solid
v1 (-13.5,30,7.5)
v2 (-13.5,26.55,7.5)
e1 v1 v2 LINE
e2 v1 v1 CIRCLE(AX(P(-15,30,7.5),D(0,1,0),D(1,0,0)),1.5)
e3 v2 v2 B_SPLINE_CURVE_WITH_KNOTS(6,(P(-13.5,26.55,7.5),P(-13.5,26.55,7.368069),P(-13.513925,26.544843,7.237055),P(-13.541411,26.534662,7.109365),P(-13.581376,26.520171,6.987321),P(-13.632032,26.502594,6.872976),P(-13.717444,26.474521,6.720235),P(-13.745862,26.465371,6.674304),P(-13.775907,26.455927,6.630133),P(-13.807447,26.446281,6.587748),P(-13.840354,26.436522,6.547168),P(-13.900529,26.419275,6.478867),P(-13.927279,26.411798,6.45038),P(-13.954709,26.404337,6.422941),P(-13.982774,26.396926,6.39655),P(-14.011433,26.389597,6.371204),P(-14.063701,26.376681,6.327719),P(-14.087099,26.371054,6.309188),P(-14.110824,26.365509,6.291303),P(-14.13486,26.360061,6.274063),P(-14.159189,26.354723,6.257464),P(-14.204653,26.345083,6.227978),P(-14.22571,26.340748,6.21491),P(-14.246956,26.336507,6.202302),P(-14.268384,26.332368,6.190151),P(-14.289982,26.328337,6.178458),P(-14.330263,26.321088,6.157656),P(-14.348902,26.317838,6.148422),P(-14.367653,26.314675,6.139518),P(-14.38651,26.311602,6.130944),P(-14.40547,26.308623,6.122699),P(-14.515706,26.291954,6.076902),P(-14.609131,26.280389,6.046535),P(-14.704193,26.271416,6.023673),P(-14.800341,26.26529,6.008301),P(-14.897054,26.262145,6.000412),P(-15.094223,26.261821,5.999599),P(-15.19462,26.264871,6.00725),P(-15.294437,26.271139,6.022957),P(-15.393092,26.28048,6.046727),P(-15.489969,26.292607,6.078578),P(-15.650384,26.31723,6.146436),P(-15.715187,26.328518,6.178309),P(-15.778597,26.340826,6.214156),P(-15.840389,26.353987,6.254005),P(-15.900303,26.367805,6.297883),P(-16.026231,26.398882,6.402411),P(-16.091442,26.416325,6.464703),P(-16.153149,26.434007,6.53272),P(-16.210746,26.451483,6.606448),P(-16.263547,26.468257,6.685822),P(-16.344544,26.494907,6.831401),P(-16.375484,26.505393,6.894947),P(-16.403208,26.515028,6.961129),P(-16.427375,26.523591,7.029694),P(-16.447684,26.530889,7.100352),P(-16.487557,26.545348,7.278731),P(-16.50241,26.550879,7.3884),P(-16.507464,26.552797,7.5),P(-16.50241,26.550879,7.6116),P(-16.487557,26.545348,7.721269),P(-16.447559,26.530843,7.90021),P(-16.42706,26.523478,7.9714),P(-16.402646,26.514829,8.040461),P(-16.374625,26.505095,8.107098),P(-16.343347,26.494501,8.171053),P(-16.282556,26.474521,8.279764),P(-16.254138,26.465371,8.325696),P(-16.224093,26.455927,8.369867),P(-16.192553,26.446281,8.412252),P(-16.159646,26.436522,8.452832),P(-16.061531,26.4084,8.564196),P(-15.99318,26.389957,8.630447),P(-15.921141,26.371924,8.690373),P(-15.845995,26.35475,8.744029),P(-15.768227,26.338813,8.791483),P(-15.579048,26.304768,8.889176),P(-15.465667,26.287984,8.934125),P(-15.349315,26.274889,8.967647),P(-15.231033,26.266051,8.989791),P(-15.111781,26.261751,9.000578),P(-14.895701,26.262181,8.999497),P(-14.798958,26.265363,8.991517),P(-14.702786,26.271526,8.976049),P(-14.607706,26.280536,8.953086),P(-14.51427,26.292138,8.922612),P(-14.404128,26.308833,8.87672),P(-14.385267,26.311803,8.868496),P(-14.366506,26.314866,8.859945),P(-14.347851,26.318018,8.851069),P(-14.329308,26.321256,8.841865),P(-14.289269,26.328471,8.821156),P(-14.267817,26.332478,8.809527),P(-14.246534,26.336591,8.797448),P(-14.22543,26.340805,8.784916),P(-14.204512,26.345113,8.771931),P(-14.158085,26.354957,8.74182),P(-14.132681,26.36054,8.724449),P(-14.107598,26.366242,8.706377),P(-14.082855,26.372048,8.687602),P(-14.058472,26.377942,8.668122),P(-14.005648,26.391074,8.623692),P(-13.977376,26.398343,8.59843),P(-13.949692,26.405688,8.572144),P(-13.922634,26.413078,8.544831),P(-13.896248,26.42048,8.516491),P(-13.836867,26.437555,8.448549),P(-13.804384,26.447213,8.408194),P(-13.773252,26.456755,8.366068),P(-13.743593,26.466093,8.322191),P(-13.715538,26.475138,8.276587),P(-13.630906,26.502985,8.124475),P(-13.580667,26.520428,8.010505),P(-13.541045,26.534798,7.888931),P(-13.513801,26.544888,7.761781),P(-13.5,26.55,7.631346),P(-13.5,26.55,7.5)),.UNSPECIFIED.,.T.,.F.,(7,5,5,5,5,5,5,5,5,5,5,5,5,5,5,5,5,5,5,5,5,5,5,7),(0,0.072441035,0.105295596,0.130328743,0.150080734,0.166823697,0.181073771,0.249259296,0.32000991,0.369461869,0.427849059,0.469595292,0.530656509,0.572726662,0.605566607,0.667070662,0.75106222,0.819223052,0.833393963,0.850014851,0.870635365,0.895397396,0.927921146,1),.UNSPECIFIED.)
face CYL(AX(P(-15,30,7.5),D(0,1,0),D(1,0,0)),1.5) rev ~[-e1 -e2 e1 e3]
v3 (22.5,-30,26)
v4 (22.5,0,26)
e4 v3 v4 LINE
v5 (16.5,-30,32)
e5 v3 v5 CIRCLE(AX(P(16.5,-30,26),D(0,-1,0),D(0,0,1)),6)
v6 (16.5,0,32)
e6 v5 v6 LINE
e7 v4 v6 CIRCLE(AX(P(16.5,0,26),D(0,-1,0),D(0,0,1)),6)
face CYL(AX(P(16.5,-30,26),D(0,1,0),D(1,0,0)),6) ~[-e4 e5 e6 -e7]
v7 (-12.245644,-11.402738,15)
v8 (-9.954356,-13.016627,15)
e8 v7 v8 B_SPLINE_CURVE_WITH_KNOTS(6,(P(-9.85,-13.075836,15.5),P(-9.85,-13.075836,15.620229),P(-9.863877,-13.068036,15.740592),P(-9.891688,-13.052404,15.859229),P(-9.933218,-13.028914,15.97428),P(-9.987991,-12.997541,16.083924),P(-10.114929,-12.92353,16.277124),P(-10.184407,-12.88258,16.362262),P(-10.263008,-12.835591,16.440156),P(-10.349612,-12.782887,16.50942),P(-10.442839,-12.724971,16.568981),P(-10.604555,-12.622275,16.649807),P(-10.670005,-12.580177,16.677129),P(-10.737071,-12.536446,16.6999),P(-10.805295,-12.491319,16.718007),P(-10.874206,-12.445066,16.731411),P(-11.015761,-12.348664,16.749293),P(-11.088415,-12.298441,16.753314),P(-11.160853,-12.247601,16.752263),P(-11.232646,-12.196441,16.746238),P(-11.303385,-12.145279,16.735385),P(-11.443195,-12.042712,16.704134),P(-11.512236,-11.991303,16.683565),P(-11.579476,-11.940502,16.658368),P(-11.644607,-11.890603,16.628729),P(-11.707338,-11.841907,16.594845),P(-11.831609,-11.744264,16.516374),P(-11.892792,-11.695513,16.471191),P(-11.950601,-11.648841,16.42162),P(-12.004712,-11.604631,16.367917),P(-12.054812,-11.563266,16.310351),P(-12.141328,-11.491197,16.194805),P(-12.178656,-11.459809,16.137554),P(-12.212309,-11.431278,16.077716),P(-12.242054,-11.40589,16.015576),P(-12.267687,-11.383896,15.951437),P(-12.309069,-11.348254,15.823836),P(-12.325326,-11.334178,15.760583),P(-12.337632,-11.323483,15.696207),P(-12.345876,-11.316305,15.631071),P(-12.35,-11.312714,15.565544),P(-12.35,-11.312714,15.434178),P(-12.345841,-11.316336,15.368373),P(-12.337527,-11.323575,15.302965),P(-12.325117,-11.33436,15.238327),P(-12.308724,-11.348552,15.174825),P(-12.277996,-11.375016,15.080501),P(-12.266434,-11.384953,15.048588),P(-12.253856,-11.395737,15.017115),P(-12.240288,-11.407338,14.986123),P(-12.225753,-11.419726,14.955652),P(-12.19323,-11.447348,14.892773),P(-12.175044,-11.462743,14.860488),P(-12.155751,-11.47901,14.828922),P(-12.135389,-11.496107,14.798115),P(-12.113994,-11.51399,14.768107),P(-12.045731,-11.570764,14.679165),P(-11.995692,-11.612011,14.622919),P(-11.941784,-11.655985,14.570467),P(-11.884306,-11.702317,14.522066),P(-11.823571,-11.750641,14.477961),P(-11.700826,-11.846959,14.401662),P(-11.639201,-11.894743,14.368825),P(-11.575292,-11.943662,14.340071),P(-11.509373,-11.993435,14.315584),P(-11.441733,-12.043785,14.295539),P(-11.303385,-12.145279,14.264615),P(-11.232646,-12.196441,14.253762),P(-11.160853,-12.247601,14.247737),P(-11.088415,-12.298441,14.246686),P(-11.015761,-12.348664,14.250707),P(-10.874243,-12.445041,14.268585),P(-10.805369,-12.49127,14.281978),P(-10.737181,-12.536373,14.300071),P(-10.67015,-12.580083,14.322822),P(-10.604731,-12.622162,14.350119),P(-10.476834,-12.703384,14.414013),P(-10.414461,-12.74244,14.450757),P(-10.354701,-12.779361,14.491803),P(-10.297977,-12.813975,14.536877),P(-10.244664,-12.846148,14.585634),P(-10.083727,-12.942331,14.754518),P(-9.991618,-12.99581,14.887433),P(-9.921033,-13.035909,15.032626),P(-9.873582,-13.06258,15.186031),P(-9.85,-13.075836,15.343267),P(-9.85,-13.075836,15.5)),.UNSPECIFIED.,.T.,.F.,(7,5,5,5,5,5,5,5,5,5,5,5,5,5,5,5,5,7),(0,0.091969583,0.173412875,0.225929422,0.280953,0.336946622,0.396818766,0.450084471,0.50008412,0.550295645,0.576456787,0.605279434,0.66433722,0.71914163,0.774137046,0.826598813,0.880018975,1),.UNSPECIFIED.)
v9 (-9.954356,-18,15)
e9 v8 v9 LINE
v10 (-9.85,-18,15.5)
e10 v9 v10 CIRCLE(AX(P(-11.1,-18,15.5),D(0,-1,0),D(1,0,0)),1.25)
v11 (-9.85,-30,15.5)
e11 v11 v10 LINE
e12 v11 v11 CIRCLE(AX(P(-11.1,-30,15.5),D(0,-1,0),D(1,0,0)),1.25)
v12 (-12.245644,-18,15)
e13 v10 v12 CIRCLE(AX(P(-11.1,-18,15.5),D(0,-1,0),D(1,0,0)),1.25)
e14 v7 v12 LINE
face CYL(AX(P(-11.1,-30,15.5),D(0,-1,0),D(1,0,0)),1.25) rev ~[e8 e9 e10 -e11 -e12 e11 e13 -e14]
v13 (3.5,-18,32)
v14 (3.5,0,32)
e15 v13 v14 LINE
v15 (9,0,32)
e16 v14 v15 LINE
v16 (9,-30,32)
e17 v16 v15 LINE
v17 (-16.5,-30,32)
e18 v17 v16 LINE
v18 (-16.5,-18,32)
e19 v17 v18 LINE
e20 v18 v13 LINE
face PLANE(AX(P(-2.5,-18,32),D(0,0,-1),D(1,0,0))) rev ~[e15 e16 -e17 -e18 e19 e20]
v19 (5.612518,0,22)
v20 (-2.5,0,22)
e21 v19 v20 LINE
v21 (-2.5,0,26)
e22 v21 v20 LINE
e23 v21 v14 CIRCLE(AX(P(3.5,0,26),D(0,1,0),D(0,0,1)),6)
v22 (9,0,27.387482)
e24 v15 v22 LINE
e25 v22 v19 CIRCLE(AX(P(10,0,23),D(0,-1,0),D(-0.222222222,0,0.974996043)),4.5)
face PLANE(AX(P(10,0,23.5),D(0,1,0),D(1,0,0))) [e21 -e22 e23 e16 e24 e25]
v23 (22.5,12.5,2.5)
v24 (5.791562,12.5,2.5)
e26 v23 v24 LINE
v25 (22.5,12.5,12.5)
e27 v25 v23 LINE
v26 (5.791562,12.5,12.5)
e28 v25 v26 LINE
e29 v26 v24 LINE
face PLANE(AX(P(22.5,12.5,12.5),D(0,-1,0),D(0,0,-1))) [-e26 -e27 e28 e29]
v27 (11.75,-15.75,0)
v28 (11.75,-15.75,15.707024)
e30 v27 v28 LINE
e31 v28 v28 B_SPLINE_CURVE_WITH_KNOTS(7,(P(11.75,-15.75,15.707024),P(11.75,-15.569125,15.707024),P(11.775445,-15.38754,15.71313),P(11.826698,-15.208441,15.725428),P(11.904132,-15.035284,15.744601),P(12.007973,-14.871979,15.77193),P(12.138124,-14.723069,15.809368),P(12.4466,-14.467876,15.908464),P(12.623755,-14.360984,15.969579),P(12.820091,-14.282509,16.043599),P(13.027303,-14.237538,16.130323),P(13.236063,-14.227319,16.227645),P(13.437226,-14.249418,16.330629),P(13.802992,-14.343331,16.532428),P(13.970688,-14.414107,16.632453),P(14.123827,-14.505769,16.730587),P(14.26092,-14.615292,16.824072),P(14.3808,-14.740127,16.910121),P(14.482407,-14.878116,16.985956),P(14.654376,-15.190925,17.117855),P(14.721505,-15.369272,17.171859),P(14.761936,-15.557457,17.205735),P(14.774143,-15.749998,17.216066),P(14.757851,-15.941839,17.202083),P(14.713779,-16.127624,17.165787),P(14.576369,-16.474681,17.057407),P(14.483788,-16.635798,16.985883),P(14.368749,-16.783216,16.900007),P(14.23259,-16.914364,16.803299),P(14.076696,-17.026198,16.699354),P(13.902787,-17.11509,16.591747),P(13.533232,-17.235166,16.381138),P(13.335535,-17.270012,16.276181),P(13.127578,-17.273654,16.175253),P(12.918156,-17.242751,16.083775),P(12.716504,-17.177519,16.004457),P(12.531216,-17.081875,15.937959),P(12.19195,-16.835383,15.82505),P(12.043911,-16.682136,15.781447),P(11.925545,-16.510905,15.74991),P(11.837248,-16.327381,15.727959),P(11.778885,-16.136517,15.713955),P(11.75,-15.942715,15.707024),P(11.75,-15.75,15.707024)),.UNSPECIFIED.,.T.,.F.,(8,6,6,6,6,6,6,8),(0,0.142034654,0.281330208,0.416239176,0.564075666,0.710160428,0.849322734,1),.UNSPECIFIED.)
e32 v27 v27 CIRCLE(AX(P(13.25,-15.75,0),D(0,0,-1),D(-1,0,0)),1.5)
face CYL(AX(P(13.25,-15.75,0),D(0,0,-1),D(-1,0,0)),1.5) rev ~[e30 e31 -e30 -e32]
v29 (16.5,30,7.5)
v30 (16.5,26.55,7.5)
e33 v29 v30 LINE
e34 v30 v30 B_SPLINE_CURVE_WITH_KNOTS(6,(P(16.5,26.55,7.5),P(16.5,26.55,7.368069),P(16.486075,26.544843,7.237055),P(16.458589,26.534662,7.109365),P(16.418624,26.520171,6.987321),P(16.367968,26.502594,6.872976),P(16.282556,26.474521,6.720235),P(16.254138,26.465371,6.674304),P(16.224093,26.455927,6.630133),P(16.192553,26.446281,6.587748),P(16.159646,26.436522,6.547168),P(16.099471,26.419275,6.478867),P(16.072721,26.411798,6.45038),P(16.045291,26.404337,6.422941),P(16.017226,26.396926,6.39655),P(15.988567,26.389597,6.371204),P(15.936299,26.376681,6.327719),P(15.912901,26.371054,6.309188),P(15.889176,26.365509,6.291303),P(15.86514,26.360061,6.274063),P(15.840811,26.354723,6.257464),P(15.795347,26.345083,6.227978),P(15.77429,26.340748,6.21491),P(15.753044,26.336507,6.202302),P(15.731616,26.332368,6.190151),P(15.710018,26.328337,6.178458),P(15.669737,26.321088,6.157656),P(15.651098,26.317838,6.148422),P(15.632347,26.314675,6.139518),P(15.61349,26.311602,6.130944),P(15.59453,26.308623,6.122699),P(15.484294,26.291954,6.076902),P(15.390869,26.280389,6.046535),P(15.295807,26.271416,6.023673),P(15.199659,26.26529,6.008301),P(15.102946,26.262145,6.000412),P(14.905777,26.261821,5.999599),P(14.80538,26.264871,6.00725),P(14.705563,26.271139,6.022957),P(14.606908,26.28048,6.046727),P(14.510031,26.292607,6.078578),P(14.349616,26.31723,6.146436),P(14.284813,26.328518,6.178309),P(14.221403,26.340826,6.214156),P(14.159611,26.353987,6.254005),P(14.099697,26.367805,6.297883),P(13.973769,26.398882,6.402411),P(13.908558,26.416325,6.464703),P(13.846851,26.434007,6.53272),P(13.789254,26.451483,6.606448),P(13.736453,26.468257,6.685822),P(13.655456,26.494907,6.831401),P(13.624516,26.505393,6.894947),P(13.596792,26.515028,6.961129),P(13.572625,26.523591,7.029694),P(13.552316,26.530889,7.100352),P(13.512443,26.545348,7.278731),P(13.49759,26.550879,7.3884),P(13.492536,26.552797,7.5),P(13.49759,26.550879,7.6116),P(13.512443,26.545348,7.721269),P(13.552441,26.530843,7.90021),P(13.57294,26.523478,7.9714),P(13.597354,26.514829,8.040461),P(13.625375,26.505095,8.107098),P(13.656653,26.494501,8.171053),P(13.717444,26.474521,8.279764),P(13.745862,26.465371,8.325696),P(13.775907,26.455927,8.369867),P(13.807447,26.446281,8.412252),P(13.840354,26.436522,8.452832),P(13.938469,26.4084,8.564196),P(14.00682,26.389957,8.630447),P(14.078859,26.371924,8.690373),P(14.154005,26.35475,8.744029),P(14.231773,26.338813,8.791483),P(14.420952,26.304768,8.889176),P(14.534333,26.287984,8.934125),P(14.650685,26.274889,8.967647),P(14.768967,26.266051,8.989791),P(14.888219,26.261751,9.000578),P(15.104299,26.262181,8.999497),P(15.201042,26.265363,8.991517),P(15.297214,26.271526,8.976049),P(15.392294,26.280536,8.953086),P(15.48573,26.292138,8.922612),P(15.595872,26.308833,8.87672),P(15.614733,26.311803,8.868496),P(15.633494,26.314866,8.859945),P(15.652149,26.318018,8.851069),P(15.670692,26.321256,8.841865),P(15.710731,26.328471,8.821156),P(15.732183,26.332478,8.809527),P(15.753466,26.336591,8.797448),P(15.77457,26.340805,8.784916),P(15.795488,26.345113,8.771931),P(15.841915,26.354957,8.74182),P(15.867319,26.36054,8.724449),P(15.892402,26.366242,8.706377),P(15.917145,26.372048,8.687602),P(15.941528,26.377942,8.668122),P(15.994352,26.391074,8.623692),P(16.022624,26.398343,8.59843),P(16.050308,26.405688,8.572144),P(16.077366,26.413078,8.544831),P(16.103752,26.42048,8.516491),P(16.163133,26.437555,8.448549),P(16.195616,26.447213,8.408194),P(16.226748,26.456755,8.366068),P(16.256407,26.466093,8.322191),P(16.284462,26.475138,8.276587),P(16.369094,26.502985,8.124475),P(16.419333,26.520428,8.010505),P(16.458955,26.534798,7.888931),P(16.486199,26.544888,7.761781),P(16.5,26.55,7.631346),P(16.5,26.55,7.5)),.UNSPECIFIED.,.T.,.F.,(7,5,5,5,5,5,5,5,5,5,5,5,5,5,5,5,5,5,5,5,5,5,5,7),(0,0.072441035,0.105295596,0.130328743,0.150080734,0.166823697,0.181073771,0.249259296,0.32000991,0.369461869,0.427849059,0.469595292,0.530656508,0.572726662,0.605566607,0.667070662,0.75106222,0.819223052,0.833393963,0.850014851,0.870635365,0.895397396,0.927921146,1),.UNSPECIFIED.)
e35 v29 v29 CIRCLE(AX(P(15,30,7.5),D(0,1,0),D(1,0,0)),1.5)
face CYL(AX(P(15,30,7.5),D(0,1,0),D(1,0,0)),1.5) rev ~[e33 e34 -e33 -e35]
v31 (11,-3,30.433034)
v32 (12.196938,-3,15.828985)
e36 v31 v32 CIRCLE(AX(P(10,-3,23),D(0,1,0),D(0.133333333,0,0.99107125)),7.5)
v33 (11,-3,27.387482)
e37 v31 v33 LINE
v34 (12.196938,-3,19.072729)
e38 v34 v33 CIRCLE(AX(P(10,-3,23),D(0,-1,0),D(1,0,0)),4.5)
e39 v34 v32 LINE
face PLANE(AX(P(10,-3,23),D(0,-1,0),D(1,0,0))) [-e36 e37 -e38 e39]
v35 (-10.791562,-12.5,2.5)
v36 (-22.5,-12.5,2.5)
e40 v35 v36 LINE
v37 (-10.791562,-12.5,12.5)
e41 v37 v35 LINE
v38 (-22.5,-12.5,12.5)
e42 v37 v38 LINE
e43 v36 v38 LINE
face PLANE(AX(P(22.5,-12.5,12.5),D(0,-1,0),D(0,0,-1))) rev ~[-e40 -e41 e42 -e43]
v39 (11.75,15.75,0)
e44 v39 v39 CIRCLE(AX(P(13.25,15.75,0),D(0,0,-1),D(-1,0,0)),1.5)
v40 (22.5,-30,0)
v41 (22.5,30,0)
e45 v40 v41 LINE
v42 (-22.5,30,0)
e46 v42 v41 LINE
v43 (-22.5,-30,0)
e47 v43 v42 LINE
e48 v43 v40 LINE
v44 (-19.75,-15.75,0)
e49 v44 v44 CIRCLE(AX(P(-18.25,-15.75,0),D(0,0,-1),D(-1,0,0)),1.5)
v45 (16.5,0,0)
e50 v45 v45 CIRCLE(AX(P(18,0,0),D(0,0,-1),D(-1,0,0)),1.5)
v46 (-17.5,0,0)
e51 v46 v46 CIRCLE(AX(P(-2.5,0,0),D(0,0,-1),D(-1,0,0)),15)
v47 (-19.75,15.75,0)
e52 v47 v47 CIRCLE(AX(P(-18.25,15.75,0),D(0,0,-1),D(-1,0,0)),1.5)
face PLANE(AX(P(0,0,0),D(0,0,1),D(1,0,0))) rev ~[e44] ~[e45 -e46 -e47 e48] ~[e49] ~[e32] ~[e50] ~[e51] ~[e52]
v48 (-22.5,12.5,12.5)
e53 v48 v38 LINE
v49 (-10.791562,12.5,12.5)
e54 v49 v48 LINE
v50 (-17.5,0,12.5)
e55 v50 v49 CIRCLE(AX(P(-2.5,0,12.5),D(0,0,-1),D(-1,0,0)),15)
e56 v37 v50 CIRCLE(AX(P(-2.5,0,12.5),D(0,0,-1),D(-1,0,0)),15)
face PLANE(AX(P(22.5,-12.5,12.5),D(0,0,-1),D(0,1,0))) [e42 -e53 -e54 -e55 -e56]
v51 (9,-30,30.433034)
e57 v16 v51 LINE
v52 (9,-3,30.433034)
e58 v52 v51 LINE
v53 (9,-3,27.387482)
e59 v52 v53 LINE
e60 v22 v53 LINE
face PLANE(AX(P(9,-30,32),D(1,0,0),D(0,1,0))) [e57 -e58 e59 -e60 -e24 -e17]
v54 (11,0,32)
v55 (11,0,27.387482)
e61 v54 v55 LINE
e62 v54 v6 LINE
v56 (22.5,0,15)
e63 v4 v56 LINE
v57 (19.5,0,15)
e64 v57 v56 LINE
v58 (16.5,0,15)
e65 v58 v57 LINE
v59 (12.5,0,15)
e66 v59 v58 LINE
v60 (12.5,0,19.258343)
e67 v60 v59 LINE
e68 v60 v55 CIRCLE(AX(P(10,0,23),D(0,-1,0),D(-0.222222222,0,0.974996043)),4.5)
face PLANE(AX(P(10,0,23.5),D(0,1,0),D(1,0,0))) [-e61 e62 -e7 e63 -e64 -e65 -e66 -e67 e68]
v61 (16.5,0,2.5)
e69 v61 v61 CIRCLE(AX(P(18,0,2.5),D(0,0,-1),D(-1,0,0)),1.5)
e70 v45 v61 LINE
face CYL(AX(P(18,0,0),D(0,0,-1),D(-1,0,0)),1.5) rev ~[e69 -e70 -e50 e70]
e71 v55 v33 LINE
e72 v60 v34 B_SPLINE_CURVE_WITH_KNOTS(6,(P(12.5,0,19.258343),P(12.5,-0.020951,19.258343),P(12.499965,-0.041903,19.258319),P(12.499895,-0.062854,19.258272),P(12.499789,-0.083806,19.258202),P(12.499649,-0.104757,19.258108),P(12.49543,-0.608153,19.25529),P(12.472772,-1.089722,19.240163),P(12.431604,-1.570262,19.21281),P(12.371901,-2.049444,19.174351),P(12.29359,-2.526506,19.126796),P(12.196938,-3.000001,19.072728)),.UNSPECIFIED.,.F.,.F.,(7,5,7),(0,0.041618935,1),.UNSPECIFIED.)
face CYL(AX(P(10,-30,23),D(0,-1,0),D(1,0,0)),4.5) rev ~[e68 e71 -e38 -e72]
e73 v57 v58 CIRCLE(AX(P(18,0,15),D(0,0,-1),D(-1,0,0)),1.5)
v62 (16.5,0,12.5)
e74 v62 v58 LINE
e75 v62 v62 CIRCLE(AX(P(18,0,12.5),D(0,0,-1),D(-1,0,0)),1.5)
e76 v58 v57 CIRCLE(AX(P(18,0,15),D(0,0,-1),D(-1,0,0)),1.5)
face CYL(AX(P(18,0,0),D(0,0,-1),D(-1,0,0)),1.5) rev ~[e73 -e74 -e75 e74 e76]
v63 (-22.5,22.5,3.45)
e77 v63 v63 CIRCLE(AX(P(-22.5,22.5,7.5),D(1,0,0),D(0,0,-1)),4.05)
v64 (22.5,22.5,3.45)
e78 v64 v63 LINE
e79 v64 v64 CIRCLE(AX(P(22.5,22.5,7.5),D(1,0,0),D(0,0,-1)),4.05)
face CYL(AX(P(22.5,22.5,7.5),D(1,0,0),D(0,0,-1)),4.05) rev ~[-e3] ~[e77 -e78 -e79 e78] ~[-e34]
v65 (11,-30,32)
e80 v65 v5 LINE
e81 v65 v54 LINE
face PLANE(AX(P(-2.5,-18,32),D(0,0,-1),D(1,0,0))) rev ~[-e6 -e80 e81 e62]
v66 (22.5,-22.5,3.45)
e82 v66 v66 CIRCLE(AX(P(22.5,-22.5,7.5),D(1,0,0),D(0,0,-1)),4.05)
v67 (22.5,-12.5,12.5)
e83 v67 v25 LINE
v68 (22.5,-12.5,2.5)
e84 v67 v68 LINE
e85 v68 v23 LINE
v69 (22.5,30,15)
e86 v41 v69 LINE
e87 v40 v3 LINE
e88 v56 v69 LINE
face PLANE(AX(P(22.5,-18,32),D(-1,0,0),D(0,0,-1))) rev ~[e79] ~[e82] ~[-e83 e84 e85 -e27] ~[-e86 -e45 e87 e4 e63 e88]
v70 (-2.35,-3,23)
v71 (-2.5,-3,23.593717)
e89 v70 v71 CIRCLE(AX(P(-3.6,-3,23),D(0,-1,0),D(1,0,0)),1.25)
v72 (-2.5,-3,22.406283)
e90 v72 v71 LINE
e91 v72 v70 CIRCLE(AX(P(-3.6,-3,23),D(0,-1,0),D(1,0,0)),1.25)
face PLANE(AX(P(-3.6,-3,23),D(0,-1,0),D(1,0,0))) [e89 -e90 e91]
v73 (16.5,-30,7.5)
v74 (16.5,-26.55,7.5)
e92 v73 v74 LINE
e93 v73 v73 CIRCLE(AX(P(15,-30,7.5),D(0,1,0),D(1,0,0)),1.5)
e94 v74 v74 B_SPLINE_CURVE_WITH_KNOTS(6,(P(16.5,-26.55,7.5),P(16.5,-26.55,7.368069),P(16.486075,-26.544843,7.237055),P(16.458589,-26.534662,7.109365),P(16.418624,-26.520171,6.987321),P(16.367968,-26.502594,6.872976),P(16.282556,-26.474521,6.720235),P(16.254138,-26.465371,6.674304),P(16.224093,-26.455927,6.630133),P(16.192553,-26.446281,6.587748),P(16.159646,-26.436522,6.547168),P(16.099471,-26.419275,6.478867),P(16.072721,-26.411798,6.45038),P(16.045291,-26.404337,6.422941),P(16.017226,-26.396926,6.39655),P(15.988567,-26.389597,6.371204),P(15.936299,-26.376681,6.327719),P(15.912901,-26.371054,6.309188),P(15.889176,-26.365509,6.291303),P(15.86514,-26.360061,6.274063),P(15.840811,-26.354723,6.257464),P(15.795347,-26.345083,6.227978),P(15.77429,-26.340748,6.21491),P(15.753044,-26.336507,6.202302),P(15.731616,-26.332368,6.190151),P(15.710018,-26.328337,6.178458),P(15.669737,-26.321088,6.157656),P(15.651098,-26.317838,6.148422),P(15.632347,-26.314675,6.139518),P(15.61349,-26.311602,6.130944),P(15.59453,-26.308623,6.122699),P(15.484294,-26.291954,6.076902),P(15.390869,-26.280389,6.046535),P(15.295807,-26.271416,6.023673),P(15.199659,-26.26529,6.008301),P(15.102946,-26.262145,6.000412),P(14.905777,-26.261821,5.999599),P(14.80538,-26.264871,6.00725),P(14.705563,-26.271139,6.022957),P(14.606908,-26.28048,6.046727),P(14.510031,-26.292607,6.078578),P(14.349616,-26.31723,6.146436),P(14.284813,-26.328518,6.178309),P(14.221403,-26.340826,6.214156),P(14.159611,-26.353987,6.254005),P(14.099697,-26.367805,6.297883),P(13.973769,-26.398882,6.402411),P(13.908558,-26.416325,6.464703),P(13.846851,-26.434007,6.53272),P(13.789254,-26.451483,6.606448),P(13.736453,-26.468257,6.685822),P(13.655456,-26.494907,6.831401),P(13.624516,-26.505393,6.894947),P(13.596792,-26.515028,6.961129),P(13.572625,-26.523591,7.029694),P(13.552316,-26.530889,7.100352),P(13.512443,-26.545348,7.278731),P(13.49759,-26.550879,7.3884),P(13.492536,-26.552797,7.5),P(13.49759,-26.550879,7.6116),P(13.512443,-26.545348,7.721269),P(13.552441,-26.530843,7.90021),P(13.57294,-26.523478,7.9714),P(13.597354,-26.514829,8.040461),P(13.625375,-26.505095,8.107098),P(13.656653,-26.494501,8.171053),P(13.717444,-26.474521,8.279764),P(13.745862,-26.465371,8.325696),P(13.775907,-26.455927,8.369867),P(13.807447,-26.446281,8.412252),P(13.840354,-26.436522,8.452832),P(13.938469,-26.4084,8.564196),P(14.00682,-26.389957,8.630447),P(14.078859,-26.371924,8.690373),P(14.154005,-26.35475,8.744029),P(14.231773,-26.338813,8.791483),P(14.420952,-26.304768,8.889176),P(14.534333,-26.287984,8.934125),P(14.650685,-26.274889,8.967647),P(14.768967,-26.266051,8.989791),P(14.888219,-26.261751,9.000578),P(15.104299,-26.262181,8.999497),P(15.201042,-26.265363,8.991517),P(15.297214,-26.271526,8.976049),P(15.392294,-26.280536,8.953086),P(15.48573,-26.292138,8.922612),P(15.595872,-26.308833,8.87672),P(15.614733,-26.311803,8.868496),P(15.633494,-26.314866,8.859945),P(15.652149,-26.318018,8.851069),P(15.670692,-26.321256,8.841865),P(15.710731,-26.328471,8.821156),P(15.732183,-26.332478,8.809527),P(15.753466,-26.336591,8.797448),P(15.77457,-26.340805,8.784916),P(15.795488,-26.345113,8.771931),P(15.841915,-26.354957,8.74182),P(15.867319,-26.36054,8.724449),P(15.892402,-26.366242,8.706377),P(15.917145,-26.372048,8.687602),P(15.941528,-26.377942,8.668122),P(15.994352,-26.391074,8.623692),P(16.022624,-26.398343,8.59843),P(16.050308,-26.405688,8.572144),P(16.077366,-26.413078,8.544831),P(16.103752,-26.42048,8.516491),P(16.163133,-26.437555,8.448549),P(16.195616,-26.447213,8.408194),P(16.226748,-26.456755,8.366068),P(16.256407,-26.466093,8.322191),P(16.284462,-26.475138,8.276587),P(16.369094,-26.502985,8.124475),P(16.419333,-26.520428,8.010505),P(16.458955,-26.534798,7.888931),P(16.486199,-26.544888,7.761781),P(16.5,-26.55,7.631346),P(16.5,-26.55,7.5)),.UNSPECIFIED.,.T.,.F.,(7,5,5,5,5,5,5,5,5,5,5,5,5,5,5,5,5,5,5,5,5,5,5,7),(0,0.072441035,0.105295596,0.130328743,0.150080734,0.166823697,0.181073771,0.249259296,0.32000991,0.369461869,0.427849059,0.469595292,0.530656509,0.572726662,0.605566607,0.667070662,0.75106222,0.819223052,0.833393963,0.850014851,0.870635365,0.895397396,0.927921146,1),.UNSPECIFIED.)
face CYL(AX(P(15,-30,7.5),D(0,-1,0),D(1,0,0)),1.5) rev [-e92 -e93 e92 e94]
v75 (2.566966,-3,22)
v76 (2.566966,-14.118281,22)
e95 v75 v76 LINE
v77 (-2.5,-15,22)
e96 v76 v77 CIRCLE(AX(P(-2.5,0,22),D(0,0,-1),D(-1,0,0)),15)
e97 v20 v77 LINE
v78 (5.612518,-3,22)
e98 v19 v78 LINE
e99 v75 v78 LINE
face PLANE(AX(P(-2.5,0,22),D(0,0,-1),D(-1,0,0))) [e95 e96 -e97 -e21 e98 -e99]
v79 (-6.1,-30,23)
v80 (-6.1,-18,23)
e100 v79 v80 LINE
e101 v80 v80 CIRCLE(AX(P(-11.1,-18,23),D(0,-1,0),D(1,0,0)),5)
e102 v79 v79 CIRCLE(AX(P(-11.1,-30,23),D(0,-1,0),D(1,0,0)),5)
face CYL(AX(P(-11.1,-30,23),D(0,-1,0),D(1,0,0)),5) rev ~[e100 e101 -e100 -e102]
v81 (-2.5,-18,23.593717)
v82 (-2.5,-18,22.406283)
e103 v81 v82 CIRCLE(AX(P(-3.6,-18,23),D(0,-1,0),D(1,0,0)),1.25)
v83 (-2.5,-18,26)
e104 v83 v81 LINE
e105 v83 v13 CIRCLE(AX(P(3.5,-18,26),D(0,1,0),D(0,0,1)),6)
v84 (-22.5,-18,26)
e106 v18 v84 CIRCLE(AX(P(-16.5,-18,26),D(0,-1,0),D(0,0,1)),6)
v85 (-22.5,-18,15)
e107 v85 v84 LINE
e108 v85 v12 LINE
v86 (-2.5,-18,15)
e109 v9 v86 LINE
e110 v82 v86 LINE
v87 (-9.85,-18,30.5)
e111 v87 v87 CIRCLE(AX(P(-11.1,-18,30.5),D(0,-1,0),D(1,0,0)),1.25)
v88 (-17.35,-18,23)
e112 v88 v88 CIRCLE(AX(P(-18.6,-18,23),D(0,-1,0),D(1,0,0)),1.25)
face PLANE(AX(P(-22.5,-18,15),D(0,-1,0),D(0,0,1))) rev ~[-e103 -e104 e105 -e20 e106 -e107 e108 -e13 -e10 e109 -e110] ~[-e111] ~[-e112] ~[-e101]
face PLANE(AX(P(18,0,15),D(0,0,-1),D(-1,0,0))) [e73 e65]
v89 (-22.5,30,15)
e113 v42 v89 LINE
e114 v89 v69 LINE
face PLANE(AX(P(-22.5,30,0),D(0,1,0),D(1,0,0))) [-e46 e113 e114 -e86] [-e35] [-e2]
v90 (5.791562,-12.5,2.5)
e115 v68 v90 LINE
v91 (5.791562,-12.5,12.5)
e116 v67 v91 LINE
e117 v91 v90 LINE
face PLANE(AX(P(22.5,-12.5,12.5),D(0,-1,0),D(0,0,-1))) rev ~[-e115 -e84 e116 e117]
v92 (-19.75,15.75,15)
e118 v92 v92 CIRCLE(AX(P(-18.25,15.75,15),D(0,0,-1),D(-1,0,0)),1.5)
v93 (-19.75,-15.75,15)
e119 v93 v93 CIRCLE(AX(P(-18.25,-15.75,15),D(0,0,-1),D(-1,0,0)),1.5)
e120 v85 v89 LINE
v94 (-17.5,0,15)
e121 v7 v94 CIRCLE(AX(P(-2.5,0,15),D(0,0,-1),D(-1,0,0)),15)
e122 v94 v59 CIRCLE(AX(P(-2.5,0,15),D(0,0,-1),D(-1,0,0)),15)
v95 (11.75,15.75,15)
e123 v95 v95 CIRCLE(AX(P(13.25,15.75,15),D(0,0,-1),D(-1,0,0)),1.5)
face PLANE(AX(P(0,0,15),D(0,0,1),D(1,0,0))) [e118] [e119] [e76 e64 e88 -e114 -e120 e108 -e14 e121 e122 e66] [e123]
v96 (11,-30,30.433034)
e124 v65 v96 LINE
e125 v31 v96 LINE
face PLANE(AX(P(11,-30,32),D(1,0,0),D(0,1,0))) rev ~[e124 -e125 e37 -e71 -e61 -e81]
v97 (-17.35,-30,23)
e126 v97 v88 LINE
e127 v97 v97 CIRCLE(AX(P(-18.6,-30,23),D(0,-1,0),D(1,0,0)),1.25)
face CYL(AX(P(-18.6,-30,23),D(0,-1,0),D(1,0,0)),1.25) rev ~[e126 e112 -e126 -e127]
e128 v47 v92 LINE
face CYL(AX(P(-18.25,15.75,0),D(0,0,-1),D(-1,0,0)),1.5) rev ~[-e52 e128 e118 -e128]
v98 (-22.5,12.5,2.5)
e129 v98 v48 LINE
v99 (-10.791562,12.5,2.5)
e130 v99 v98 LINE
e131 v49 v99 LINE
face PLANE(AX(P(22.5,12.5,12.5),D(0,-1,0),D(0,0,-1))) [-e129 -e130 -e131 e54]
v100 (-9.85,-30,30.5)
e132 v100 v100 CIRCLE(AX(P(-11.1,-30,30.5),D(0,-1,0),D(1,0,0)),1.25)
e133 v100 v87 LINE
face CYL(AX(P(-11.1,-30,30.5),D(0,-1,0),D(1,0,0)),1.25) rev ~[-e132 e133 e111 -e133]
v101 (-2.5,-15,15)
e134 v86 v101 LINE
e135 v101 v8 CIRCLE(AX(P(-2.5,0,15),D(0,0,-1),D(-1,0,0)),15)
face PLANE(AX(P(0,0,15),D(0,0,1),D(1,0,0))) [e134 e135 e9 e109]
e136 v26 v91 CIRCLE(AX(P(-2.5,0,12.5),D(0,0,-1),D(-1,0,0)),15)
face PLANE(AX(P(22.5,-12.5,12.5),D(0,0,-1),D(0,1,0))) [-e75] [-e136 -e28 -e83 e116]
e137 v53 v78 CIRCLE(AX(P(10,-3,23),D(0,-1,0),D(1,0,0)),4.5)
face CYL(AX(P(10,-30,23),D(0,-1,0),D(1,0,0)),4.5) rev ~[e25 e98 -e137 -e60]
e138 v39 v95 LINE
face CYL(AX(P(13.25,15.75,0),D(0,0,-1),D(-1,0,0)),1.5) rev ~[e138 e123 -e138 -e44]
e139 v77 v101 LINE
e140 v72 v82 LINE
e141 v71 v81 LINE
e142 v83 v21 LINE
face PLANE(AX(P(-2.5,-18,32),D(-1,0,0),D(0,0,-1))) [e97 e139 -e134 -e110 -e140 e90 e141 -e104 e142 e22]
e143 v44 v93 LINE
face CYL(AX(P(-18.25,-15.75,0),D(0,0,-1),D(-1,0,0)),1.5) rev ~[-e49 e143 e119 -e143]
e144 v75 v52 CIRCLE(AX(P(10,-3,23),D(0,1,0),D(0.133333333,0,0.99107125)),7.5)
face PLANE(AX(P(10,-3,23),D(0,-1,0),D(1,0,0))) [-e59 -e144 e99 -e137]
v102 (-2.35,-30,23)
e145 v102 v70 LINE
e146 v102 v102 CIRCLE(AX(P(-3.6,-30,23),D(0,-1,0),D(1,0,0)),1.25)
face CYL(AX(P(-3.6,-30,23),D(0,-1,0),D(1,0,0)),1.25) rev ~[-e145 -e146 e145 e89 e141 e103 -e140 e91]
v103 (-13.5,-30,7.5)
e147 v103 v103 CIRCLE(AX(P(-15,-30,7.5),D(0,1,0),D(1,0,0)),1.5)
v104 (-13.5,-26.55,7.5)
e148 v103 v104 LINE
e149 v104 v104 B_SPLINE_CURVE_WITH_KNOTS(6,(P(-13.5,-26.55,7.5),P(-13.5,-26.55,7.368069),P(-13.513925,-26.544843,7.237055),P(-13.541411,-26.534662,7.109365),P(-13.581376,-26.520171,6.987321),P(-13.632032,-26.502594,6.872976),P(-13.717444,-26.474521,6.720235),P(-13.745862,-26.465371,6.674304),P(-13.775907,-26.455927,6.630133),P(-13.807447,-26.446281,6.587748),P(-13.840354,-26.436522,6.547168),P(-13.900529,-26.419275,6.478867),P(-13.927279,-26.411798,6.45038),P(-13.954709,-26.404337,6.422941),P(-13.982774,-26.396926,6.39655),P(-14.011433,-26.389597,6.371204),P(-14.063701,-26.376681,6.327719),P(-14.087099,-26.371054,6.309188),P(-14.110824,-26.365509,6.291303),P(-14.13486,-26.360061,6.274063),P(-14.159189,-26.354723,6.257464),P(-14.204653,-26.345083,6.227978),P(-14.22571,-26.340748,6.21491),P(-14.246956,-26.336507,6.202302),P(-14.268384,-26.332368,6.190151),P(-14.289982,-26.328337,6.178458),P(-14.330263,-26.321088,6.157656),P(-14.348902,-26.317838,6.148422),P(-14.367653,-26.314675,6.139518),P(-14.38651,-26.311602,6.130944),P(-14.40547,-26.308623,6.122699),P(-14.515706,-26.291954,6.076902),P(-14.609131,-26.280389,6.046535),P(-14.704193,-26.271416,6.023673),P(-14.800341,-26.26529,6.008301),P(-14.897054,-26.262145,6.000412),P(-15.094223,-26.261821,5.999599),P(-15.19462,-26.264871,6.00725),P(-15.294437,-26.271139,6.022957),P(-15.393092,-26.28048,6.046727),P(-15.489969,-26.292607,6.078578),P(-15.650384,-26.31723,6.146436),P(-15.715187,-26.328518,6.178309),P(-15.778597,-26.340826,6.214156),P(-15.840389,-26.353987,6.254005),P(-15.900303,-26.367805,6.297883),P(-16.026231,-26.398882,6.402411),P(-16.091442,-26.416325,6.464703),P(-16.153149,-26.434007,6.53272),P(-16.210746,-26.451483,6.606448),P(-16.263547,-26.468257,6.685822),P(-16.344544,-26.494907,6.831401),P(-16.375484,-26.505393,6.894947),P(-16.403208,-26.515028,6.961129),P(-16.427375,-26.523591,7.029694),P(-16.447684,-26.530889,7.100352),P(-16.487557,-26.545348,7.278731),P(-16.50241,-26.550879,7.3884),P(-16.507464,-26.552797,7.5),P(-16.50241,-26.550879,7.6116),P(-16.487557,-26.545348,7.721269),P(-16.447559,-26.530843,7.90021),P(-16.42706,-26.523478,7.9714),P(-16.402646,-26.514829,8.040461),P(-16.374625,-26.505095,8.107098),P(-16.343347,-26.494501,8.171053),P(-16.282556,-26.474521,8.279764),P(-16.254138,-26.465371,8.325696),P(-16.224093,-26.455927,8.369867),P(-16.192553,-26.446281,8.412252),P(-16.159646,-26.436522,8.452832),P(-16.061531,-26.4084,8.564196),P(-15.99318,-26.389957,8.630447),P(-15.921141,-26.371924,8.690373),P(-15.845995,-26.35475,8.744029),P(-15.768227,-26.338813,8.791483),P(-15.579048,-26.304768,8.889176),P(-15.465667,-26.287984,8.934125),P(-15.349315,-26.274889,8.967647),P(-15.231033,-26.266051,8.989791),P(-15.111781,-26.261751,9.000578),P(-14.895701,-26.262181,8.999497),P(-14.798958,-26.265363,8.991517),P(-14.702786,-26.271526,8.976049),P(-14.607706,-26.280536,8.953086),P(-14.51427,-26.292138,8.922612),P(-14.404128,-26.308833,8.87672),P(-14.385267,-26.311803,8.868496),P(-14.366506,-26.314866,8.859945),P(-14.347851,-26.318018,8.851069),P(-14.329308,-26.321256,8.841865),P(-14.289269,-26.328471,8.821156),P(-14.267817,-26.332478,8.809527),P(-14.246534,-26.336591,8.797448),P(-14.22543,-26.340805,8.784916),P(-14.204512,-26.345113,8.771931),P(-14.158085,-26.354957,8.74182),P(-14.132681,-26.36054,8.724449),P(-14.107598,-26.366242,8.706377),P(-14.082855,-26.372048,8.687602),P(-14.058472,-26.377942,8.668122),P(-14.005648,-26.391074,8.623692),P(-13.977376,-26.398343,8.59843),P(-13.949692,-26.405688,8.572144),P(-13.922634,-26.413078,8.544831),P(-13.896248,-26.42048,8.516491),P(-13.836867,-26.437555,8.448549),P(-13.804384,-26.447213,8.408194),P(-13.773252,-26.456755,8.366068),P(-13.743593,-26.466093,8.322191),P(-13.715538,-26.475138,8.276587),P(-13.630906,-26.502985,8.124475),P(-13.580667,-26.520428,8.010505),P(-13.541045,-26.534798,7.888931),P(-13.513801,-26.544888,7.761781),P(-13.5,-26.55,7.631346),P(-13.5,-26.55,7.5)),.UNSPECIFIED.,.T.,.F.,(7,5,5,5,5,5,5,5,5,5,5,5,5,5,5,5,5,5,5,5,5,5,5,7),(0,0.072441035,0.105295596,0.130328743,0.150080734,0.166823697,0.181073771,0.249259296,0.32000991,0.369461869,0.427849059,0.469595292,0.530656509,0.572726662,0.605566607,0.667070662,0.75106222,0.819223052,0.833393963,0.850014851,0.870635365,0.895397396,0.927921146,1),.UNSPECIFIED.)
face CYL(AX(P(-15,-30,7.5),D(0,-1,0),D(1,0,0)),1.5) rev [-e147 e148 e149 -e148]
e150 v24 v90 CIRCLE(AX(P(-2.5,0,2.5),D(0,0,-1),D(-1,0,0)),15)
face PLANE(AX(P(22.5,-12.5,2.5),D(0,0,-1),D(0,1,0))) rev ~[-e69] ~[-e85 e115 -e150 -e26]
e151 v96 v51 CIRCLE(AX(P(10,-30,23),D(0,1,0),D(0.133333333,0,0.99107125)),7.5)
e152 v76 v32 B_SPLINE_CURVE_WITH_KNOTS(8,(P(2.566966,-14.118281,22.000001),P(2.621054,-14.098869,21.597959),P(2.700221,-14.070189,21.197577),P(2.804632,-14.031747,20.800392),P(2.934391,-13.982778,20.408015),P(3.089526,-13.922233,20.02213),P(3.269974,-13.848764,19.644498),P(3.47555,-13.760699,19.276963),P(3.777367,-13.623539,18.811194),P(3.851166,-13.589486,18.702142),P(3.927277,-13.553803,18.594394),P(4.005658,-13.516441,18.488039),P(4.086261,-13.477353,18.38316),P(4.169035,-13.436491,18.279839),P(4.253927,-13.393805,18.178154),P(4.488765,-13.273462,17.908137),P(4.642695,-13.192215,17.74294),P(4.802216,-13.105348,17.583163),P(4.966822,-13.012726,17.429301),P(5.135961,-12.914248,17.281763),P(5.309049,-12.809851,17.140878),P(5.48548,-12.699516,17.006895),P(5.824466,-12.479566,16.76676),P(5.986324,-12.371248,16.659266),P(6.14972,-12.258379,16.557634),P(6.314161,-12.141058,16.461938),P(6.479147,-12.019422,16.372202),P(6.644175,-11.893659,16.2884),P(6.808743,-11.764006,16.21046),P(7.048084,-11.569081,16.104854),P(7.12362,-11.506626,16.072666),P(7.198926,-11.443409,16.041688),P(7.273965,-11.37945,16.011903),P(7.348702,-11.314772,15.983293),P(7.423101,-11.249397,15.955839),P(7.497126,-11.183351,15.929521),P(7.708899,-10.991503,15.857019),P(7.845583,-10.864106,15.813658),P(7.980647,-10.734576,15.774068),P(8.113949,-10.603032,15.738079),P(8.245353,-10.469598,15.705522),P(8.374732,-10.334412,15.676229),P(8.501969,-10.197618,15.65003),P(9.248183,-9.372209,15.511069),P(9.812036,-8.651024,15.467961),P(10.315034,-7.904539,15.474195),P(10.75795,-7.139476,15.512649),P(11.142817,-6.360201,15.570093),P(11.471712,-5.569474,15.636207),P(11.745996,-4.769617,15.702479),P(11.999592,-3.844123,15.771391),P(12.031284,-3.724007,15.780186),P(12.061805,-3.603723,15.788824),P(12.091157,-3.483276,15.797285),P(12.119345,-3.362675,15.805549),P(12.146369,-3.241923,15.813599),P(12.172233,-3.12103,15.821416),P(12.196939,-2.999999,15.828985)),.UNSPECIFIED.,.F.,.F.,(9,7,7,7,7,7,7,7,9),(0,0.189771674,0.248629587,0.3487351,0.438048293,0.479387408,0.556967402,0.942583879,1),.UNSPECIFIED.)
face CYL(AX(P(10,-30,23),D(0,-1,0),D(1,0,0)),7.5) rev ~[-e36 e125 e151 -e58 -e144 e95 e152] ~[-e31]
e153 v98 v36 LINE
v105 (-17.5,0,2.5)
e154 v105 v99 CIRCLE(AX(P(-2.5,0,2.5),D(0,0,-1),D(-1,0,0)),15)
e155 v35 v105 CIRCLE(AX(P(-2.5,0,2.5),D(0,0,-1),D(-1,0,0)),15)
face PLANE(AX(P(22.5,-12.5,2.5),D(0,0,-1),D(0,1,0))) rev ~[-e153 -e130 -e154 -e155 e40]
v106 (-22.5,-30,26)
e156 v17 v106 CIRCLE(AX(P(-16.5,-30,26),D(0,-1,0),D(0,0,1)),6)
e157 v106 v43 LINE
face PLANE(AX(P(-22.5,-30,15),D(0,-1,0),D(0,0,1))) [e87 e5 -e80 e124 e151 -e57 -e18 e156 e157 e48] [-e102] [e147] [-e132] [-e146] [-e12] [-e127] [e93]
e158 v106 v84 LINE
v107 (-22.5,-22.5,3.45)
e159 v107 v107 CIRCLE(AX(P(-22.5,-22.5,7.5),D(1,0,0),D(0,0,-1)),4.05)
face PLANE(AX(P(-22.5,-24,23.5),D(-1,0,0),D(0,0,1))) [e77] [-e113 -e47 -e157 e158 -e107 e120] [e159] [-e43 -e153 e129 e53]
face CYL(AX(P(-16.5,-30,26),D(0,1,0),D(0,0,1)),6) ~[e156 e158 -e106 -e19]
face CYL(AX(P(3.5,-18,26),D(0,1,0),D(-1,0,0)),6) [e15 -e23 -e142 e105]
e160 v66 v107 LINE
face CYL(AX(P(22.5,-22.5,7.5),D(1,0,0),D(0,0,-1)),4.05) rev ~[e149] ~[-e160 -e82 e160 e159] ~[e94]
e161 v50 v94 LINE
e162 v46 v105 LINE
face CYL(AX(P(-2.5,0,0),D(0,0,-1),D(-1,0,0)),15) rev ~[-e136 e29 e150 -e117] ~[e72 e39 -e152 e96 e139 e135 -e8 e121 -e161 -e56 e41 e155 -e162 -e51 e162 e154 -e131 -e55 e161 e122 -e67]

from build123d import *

# Parameters (mm, degrees)
SKETCH1_W           = 45
SKETCH1_H           = 60
BOSS_EXTRUDE1_DEPTH = 15
SKETCH2_R           = 4.05
SKETCH2_W           = 10
SKETCH2_H           = 25
CUT_EXTRUDE1_DEPTH  = 46
SKETCH3_W           = 17
SKETCH3_H           = 12
BOSS_EXTRUDE2_DEPTH = 45
SKETCH4_W           = 25
SKETCH4_H           = 17
BOSS_EXTRUDE3_DEPTH = 18
SKETCH5_W           = 2
SKETCH5_H           = 30
CUT_EXTRUDE2_DEPTH  = 5
SKETCH6_R           = 4.5
CUT_EXTRUDE3_DEPTH  = 61
SKETCH7_R           = 7.5
SKETCH7_R_2         = 5
SKETCH7_R_3         = 1.25
CUT_EXTRUDE4_DEPTH  = 27
SKETCH8_R           = 15
SKETCH8_R_2         = 1.5
CUT_EXTRUDE5_DEPTH  = 22
FILLET1_R           = 6
SKETCH9_R           = 1.5
CUT_EXTRUDE6_DEPTH  = 15
SKETCH10_R          = 1.5
CUT_EXTRUDE7_DEPTH  = 5
CUT_EXTRUDE8_START  = -60
SKETCH10_2_R        = 1.5
CUT_EXTRUDE8_DEPTH  = 5


with BuildPart() as part:
    # Sketch1 → Boss-Extrude1 (new body)
    with BuildSketch(Plane.XY):
        Rectangle(SKETCH1_W, SKETCH1_H)
    extrude(amount=BOSS_EXTRUDE1_DEPTH)

    # Sketch2 → Cut-Extrude1 (cut, through all)
    with BuildSketch(Plane(origin=(22.5, 0, 0), x_dir=(0, 0, -1), z_dir=(1, 0, 0))):
        with Locations((-7.5, 22.5)):
            Circle(SKETCH2_R)
        with Locations((-7.5, -22.5)):
            Circle(SKETCH2_R)
        with Locations((-7.5, 0)):
            Rectangle(SKETCH2_W, SKETCH2_H)
    extrude(amount=-CUT_EXTRUDE1_DEPTH, mode=Mode.SUBTRACT)

    # Sketch3 → Boss-Extrude2 (add)
    with BuildSketch(Plane.ZY.offset(22.5)):
        with Locations((23.5, -24)):
            Rectangle(SKETCH3_W, SKETCH3_H)
    extrude(amount=-BOSS_EXTRUDE2_DEPTH)

    # Sketch4 → Boss-Extrude3 (add)
    with BuildSketch(Plane(origin=(0, -18, 0), x_dir=(1, 0, 0), z_dir=(0, 1, 0))):
        with Locations((10, -23.5)):
            Rectangle(SKETCH4_W, SKETCH4_H)
    extrude(amount=BOSS_EXTRUDE3_DEPTH)

    # Sketch5 → Cut-Extrude2 (cut)
    with BuildSketch(Plane.XY.offset(32)):
        with Locations((10, -15)):
            Rectangle(SKETCH5_W, SKETCH5_H)
    extrude(amount=-CUT_EXTRUDE2_DEPTH, mode=Mode.SUBTRACT)

    # Sketch6 → Cut-Extrude3 (cut, through all)
    with BuildSketch(Plane.XZ.offset(30)):
        with Locations((10, 23)):
            Circle(SKETCH6_R)
    extrude(amount=-CUT_EXTRUDE3_DEPTH, mode=Mode.SUBTRACT)

    # Sketch7 → Cut-Extrude4 (cut)
    with BuildSketch(Plane.XZ.offset(30)):
        with Locations((10, 23)):
            Circle(SKETCH7_R)
        with Locations((-11.1, 23)):
            Circle(SKETCH7_R_2)
        with Locations((-3.6, 23)):
            Circle(SKETCH7_R_3)
        with Locations((-11.1, 30.5)):
            Circle(SKETCH7_R_3)
        with Locations((-11.1, 15.5)):
            Circle(SKETCH7_R_3)
        with Locations((-18.6, 23)):
            Circle(SKETCH7_R_3)
    extrude(amount=-CUT_EXTRUDE4_DEPTH, mode=Mode.SUBTRACT)

    # Sketch8 → Cut-Extrude5 (cut)
    with BuildSketch(Plane(origin=(0, 0, 0), x_dir=(-1, 0, 0), z_dir=(0, 0, -1))):
        with Locations((2.5, 0)):
            Circle(SKETCH8_R)
        with Locations((18.25, 15.75)):
            Circle(SKETCH8_R_2)
        with Locations((-13.25, 15.75)):
            Circle(SKETCH8_R_2)
        with Locations((-13.25, -15.75)):
            Circle(SKETCH8_R_2)
        with Locations((18.25, -15.75)):
            Circle(SKETCH8_R_2)
    extrude(amount=-CUT_EXTRUDE5_DEPTH, mode=Mode.SUBTRACT)

    # Fillet1
    fillet1_edges = [part.edges().sort_by_distance(p)[0] for p in [
        (-22.5, -24, 32),
        (-2.5, -9, 32),
        (22.5, -15, 32),
    ]]
    fillet(fillet1_edges, radius=FILLET1_R)

    # Sketch9 → Cut-Extrude6 (cut)
    with BuildSketch(Plane(origin=(0, 0, 0), x_dir=(-1, 0, 0), z_dir=(0, 0, -1))):
        with Locations((-18, 0)):
            Circle(SKETCH9_R)
    extrude(amount=-CUT_EXTRUDE6_DEPTH, mode=Mode.SUBTRACT)

    # Sketch10 → Cut-Extrude7 (cut)
    with BuildSketch(Plane(origin=(0, 30, 0), x_dir=(1, 0, 0), z_dir=(0, 1, 0))):
        with Locations((-15, -7.5)):
            Circle(SKETCH10_R)
        with Locations((15, -7.5)):
            Circle(SKETCH10_R)
    extrude(amount=-CUT_EXTRUDE7_DEPTH, mode=Mode.SUBTRACT)

    # Sketch10<2> → Cut-Extrude8 (cut)
    with BuildSketch(Plane(origin=(0, 30, 0), x_dir=(1, 0, 0), z_dir=(0, 1, 0)).offset(CUT_EXTRUDE8_START)):
        with Locations((-15, -7.5)):
            Circle(SKETCH10_2_R)
        with Locations((15, -7.5)):
            Circle(SKETCH10_2_R)
    extrude(amount=CUT_EXTRUDE8_DEPTH, mode=Mode.SUBTRACT)


solid = part.part
